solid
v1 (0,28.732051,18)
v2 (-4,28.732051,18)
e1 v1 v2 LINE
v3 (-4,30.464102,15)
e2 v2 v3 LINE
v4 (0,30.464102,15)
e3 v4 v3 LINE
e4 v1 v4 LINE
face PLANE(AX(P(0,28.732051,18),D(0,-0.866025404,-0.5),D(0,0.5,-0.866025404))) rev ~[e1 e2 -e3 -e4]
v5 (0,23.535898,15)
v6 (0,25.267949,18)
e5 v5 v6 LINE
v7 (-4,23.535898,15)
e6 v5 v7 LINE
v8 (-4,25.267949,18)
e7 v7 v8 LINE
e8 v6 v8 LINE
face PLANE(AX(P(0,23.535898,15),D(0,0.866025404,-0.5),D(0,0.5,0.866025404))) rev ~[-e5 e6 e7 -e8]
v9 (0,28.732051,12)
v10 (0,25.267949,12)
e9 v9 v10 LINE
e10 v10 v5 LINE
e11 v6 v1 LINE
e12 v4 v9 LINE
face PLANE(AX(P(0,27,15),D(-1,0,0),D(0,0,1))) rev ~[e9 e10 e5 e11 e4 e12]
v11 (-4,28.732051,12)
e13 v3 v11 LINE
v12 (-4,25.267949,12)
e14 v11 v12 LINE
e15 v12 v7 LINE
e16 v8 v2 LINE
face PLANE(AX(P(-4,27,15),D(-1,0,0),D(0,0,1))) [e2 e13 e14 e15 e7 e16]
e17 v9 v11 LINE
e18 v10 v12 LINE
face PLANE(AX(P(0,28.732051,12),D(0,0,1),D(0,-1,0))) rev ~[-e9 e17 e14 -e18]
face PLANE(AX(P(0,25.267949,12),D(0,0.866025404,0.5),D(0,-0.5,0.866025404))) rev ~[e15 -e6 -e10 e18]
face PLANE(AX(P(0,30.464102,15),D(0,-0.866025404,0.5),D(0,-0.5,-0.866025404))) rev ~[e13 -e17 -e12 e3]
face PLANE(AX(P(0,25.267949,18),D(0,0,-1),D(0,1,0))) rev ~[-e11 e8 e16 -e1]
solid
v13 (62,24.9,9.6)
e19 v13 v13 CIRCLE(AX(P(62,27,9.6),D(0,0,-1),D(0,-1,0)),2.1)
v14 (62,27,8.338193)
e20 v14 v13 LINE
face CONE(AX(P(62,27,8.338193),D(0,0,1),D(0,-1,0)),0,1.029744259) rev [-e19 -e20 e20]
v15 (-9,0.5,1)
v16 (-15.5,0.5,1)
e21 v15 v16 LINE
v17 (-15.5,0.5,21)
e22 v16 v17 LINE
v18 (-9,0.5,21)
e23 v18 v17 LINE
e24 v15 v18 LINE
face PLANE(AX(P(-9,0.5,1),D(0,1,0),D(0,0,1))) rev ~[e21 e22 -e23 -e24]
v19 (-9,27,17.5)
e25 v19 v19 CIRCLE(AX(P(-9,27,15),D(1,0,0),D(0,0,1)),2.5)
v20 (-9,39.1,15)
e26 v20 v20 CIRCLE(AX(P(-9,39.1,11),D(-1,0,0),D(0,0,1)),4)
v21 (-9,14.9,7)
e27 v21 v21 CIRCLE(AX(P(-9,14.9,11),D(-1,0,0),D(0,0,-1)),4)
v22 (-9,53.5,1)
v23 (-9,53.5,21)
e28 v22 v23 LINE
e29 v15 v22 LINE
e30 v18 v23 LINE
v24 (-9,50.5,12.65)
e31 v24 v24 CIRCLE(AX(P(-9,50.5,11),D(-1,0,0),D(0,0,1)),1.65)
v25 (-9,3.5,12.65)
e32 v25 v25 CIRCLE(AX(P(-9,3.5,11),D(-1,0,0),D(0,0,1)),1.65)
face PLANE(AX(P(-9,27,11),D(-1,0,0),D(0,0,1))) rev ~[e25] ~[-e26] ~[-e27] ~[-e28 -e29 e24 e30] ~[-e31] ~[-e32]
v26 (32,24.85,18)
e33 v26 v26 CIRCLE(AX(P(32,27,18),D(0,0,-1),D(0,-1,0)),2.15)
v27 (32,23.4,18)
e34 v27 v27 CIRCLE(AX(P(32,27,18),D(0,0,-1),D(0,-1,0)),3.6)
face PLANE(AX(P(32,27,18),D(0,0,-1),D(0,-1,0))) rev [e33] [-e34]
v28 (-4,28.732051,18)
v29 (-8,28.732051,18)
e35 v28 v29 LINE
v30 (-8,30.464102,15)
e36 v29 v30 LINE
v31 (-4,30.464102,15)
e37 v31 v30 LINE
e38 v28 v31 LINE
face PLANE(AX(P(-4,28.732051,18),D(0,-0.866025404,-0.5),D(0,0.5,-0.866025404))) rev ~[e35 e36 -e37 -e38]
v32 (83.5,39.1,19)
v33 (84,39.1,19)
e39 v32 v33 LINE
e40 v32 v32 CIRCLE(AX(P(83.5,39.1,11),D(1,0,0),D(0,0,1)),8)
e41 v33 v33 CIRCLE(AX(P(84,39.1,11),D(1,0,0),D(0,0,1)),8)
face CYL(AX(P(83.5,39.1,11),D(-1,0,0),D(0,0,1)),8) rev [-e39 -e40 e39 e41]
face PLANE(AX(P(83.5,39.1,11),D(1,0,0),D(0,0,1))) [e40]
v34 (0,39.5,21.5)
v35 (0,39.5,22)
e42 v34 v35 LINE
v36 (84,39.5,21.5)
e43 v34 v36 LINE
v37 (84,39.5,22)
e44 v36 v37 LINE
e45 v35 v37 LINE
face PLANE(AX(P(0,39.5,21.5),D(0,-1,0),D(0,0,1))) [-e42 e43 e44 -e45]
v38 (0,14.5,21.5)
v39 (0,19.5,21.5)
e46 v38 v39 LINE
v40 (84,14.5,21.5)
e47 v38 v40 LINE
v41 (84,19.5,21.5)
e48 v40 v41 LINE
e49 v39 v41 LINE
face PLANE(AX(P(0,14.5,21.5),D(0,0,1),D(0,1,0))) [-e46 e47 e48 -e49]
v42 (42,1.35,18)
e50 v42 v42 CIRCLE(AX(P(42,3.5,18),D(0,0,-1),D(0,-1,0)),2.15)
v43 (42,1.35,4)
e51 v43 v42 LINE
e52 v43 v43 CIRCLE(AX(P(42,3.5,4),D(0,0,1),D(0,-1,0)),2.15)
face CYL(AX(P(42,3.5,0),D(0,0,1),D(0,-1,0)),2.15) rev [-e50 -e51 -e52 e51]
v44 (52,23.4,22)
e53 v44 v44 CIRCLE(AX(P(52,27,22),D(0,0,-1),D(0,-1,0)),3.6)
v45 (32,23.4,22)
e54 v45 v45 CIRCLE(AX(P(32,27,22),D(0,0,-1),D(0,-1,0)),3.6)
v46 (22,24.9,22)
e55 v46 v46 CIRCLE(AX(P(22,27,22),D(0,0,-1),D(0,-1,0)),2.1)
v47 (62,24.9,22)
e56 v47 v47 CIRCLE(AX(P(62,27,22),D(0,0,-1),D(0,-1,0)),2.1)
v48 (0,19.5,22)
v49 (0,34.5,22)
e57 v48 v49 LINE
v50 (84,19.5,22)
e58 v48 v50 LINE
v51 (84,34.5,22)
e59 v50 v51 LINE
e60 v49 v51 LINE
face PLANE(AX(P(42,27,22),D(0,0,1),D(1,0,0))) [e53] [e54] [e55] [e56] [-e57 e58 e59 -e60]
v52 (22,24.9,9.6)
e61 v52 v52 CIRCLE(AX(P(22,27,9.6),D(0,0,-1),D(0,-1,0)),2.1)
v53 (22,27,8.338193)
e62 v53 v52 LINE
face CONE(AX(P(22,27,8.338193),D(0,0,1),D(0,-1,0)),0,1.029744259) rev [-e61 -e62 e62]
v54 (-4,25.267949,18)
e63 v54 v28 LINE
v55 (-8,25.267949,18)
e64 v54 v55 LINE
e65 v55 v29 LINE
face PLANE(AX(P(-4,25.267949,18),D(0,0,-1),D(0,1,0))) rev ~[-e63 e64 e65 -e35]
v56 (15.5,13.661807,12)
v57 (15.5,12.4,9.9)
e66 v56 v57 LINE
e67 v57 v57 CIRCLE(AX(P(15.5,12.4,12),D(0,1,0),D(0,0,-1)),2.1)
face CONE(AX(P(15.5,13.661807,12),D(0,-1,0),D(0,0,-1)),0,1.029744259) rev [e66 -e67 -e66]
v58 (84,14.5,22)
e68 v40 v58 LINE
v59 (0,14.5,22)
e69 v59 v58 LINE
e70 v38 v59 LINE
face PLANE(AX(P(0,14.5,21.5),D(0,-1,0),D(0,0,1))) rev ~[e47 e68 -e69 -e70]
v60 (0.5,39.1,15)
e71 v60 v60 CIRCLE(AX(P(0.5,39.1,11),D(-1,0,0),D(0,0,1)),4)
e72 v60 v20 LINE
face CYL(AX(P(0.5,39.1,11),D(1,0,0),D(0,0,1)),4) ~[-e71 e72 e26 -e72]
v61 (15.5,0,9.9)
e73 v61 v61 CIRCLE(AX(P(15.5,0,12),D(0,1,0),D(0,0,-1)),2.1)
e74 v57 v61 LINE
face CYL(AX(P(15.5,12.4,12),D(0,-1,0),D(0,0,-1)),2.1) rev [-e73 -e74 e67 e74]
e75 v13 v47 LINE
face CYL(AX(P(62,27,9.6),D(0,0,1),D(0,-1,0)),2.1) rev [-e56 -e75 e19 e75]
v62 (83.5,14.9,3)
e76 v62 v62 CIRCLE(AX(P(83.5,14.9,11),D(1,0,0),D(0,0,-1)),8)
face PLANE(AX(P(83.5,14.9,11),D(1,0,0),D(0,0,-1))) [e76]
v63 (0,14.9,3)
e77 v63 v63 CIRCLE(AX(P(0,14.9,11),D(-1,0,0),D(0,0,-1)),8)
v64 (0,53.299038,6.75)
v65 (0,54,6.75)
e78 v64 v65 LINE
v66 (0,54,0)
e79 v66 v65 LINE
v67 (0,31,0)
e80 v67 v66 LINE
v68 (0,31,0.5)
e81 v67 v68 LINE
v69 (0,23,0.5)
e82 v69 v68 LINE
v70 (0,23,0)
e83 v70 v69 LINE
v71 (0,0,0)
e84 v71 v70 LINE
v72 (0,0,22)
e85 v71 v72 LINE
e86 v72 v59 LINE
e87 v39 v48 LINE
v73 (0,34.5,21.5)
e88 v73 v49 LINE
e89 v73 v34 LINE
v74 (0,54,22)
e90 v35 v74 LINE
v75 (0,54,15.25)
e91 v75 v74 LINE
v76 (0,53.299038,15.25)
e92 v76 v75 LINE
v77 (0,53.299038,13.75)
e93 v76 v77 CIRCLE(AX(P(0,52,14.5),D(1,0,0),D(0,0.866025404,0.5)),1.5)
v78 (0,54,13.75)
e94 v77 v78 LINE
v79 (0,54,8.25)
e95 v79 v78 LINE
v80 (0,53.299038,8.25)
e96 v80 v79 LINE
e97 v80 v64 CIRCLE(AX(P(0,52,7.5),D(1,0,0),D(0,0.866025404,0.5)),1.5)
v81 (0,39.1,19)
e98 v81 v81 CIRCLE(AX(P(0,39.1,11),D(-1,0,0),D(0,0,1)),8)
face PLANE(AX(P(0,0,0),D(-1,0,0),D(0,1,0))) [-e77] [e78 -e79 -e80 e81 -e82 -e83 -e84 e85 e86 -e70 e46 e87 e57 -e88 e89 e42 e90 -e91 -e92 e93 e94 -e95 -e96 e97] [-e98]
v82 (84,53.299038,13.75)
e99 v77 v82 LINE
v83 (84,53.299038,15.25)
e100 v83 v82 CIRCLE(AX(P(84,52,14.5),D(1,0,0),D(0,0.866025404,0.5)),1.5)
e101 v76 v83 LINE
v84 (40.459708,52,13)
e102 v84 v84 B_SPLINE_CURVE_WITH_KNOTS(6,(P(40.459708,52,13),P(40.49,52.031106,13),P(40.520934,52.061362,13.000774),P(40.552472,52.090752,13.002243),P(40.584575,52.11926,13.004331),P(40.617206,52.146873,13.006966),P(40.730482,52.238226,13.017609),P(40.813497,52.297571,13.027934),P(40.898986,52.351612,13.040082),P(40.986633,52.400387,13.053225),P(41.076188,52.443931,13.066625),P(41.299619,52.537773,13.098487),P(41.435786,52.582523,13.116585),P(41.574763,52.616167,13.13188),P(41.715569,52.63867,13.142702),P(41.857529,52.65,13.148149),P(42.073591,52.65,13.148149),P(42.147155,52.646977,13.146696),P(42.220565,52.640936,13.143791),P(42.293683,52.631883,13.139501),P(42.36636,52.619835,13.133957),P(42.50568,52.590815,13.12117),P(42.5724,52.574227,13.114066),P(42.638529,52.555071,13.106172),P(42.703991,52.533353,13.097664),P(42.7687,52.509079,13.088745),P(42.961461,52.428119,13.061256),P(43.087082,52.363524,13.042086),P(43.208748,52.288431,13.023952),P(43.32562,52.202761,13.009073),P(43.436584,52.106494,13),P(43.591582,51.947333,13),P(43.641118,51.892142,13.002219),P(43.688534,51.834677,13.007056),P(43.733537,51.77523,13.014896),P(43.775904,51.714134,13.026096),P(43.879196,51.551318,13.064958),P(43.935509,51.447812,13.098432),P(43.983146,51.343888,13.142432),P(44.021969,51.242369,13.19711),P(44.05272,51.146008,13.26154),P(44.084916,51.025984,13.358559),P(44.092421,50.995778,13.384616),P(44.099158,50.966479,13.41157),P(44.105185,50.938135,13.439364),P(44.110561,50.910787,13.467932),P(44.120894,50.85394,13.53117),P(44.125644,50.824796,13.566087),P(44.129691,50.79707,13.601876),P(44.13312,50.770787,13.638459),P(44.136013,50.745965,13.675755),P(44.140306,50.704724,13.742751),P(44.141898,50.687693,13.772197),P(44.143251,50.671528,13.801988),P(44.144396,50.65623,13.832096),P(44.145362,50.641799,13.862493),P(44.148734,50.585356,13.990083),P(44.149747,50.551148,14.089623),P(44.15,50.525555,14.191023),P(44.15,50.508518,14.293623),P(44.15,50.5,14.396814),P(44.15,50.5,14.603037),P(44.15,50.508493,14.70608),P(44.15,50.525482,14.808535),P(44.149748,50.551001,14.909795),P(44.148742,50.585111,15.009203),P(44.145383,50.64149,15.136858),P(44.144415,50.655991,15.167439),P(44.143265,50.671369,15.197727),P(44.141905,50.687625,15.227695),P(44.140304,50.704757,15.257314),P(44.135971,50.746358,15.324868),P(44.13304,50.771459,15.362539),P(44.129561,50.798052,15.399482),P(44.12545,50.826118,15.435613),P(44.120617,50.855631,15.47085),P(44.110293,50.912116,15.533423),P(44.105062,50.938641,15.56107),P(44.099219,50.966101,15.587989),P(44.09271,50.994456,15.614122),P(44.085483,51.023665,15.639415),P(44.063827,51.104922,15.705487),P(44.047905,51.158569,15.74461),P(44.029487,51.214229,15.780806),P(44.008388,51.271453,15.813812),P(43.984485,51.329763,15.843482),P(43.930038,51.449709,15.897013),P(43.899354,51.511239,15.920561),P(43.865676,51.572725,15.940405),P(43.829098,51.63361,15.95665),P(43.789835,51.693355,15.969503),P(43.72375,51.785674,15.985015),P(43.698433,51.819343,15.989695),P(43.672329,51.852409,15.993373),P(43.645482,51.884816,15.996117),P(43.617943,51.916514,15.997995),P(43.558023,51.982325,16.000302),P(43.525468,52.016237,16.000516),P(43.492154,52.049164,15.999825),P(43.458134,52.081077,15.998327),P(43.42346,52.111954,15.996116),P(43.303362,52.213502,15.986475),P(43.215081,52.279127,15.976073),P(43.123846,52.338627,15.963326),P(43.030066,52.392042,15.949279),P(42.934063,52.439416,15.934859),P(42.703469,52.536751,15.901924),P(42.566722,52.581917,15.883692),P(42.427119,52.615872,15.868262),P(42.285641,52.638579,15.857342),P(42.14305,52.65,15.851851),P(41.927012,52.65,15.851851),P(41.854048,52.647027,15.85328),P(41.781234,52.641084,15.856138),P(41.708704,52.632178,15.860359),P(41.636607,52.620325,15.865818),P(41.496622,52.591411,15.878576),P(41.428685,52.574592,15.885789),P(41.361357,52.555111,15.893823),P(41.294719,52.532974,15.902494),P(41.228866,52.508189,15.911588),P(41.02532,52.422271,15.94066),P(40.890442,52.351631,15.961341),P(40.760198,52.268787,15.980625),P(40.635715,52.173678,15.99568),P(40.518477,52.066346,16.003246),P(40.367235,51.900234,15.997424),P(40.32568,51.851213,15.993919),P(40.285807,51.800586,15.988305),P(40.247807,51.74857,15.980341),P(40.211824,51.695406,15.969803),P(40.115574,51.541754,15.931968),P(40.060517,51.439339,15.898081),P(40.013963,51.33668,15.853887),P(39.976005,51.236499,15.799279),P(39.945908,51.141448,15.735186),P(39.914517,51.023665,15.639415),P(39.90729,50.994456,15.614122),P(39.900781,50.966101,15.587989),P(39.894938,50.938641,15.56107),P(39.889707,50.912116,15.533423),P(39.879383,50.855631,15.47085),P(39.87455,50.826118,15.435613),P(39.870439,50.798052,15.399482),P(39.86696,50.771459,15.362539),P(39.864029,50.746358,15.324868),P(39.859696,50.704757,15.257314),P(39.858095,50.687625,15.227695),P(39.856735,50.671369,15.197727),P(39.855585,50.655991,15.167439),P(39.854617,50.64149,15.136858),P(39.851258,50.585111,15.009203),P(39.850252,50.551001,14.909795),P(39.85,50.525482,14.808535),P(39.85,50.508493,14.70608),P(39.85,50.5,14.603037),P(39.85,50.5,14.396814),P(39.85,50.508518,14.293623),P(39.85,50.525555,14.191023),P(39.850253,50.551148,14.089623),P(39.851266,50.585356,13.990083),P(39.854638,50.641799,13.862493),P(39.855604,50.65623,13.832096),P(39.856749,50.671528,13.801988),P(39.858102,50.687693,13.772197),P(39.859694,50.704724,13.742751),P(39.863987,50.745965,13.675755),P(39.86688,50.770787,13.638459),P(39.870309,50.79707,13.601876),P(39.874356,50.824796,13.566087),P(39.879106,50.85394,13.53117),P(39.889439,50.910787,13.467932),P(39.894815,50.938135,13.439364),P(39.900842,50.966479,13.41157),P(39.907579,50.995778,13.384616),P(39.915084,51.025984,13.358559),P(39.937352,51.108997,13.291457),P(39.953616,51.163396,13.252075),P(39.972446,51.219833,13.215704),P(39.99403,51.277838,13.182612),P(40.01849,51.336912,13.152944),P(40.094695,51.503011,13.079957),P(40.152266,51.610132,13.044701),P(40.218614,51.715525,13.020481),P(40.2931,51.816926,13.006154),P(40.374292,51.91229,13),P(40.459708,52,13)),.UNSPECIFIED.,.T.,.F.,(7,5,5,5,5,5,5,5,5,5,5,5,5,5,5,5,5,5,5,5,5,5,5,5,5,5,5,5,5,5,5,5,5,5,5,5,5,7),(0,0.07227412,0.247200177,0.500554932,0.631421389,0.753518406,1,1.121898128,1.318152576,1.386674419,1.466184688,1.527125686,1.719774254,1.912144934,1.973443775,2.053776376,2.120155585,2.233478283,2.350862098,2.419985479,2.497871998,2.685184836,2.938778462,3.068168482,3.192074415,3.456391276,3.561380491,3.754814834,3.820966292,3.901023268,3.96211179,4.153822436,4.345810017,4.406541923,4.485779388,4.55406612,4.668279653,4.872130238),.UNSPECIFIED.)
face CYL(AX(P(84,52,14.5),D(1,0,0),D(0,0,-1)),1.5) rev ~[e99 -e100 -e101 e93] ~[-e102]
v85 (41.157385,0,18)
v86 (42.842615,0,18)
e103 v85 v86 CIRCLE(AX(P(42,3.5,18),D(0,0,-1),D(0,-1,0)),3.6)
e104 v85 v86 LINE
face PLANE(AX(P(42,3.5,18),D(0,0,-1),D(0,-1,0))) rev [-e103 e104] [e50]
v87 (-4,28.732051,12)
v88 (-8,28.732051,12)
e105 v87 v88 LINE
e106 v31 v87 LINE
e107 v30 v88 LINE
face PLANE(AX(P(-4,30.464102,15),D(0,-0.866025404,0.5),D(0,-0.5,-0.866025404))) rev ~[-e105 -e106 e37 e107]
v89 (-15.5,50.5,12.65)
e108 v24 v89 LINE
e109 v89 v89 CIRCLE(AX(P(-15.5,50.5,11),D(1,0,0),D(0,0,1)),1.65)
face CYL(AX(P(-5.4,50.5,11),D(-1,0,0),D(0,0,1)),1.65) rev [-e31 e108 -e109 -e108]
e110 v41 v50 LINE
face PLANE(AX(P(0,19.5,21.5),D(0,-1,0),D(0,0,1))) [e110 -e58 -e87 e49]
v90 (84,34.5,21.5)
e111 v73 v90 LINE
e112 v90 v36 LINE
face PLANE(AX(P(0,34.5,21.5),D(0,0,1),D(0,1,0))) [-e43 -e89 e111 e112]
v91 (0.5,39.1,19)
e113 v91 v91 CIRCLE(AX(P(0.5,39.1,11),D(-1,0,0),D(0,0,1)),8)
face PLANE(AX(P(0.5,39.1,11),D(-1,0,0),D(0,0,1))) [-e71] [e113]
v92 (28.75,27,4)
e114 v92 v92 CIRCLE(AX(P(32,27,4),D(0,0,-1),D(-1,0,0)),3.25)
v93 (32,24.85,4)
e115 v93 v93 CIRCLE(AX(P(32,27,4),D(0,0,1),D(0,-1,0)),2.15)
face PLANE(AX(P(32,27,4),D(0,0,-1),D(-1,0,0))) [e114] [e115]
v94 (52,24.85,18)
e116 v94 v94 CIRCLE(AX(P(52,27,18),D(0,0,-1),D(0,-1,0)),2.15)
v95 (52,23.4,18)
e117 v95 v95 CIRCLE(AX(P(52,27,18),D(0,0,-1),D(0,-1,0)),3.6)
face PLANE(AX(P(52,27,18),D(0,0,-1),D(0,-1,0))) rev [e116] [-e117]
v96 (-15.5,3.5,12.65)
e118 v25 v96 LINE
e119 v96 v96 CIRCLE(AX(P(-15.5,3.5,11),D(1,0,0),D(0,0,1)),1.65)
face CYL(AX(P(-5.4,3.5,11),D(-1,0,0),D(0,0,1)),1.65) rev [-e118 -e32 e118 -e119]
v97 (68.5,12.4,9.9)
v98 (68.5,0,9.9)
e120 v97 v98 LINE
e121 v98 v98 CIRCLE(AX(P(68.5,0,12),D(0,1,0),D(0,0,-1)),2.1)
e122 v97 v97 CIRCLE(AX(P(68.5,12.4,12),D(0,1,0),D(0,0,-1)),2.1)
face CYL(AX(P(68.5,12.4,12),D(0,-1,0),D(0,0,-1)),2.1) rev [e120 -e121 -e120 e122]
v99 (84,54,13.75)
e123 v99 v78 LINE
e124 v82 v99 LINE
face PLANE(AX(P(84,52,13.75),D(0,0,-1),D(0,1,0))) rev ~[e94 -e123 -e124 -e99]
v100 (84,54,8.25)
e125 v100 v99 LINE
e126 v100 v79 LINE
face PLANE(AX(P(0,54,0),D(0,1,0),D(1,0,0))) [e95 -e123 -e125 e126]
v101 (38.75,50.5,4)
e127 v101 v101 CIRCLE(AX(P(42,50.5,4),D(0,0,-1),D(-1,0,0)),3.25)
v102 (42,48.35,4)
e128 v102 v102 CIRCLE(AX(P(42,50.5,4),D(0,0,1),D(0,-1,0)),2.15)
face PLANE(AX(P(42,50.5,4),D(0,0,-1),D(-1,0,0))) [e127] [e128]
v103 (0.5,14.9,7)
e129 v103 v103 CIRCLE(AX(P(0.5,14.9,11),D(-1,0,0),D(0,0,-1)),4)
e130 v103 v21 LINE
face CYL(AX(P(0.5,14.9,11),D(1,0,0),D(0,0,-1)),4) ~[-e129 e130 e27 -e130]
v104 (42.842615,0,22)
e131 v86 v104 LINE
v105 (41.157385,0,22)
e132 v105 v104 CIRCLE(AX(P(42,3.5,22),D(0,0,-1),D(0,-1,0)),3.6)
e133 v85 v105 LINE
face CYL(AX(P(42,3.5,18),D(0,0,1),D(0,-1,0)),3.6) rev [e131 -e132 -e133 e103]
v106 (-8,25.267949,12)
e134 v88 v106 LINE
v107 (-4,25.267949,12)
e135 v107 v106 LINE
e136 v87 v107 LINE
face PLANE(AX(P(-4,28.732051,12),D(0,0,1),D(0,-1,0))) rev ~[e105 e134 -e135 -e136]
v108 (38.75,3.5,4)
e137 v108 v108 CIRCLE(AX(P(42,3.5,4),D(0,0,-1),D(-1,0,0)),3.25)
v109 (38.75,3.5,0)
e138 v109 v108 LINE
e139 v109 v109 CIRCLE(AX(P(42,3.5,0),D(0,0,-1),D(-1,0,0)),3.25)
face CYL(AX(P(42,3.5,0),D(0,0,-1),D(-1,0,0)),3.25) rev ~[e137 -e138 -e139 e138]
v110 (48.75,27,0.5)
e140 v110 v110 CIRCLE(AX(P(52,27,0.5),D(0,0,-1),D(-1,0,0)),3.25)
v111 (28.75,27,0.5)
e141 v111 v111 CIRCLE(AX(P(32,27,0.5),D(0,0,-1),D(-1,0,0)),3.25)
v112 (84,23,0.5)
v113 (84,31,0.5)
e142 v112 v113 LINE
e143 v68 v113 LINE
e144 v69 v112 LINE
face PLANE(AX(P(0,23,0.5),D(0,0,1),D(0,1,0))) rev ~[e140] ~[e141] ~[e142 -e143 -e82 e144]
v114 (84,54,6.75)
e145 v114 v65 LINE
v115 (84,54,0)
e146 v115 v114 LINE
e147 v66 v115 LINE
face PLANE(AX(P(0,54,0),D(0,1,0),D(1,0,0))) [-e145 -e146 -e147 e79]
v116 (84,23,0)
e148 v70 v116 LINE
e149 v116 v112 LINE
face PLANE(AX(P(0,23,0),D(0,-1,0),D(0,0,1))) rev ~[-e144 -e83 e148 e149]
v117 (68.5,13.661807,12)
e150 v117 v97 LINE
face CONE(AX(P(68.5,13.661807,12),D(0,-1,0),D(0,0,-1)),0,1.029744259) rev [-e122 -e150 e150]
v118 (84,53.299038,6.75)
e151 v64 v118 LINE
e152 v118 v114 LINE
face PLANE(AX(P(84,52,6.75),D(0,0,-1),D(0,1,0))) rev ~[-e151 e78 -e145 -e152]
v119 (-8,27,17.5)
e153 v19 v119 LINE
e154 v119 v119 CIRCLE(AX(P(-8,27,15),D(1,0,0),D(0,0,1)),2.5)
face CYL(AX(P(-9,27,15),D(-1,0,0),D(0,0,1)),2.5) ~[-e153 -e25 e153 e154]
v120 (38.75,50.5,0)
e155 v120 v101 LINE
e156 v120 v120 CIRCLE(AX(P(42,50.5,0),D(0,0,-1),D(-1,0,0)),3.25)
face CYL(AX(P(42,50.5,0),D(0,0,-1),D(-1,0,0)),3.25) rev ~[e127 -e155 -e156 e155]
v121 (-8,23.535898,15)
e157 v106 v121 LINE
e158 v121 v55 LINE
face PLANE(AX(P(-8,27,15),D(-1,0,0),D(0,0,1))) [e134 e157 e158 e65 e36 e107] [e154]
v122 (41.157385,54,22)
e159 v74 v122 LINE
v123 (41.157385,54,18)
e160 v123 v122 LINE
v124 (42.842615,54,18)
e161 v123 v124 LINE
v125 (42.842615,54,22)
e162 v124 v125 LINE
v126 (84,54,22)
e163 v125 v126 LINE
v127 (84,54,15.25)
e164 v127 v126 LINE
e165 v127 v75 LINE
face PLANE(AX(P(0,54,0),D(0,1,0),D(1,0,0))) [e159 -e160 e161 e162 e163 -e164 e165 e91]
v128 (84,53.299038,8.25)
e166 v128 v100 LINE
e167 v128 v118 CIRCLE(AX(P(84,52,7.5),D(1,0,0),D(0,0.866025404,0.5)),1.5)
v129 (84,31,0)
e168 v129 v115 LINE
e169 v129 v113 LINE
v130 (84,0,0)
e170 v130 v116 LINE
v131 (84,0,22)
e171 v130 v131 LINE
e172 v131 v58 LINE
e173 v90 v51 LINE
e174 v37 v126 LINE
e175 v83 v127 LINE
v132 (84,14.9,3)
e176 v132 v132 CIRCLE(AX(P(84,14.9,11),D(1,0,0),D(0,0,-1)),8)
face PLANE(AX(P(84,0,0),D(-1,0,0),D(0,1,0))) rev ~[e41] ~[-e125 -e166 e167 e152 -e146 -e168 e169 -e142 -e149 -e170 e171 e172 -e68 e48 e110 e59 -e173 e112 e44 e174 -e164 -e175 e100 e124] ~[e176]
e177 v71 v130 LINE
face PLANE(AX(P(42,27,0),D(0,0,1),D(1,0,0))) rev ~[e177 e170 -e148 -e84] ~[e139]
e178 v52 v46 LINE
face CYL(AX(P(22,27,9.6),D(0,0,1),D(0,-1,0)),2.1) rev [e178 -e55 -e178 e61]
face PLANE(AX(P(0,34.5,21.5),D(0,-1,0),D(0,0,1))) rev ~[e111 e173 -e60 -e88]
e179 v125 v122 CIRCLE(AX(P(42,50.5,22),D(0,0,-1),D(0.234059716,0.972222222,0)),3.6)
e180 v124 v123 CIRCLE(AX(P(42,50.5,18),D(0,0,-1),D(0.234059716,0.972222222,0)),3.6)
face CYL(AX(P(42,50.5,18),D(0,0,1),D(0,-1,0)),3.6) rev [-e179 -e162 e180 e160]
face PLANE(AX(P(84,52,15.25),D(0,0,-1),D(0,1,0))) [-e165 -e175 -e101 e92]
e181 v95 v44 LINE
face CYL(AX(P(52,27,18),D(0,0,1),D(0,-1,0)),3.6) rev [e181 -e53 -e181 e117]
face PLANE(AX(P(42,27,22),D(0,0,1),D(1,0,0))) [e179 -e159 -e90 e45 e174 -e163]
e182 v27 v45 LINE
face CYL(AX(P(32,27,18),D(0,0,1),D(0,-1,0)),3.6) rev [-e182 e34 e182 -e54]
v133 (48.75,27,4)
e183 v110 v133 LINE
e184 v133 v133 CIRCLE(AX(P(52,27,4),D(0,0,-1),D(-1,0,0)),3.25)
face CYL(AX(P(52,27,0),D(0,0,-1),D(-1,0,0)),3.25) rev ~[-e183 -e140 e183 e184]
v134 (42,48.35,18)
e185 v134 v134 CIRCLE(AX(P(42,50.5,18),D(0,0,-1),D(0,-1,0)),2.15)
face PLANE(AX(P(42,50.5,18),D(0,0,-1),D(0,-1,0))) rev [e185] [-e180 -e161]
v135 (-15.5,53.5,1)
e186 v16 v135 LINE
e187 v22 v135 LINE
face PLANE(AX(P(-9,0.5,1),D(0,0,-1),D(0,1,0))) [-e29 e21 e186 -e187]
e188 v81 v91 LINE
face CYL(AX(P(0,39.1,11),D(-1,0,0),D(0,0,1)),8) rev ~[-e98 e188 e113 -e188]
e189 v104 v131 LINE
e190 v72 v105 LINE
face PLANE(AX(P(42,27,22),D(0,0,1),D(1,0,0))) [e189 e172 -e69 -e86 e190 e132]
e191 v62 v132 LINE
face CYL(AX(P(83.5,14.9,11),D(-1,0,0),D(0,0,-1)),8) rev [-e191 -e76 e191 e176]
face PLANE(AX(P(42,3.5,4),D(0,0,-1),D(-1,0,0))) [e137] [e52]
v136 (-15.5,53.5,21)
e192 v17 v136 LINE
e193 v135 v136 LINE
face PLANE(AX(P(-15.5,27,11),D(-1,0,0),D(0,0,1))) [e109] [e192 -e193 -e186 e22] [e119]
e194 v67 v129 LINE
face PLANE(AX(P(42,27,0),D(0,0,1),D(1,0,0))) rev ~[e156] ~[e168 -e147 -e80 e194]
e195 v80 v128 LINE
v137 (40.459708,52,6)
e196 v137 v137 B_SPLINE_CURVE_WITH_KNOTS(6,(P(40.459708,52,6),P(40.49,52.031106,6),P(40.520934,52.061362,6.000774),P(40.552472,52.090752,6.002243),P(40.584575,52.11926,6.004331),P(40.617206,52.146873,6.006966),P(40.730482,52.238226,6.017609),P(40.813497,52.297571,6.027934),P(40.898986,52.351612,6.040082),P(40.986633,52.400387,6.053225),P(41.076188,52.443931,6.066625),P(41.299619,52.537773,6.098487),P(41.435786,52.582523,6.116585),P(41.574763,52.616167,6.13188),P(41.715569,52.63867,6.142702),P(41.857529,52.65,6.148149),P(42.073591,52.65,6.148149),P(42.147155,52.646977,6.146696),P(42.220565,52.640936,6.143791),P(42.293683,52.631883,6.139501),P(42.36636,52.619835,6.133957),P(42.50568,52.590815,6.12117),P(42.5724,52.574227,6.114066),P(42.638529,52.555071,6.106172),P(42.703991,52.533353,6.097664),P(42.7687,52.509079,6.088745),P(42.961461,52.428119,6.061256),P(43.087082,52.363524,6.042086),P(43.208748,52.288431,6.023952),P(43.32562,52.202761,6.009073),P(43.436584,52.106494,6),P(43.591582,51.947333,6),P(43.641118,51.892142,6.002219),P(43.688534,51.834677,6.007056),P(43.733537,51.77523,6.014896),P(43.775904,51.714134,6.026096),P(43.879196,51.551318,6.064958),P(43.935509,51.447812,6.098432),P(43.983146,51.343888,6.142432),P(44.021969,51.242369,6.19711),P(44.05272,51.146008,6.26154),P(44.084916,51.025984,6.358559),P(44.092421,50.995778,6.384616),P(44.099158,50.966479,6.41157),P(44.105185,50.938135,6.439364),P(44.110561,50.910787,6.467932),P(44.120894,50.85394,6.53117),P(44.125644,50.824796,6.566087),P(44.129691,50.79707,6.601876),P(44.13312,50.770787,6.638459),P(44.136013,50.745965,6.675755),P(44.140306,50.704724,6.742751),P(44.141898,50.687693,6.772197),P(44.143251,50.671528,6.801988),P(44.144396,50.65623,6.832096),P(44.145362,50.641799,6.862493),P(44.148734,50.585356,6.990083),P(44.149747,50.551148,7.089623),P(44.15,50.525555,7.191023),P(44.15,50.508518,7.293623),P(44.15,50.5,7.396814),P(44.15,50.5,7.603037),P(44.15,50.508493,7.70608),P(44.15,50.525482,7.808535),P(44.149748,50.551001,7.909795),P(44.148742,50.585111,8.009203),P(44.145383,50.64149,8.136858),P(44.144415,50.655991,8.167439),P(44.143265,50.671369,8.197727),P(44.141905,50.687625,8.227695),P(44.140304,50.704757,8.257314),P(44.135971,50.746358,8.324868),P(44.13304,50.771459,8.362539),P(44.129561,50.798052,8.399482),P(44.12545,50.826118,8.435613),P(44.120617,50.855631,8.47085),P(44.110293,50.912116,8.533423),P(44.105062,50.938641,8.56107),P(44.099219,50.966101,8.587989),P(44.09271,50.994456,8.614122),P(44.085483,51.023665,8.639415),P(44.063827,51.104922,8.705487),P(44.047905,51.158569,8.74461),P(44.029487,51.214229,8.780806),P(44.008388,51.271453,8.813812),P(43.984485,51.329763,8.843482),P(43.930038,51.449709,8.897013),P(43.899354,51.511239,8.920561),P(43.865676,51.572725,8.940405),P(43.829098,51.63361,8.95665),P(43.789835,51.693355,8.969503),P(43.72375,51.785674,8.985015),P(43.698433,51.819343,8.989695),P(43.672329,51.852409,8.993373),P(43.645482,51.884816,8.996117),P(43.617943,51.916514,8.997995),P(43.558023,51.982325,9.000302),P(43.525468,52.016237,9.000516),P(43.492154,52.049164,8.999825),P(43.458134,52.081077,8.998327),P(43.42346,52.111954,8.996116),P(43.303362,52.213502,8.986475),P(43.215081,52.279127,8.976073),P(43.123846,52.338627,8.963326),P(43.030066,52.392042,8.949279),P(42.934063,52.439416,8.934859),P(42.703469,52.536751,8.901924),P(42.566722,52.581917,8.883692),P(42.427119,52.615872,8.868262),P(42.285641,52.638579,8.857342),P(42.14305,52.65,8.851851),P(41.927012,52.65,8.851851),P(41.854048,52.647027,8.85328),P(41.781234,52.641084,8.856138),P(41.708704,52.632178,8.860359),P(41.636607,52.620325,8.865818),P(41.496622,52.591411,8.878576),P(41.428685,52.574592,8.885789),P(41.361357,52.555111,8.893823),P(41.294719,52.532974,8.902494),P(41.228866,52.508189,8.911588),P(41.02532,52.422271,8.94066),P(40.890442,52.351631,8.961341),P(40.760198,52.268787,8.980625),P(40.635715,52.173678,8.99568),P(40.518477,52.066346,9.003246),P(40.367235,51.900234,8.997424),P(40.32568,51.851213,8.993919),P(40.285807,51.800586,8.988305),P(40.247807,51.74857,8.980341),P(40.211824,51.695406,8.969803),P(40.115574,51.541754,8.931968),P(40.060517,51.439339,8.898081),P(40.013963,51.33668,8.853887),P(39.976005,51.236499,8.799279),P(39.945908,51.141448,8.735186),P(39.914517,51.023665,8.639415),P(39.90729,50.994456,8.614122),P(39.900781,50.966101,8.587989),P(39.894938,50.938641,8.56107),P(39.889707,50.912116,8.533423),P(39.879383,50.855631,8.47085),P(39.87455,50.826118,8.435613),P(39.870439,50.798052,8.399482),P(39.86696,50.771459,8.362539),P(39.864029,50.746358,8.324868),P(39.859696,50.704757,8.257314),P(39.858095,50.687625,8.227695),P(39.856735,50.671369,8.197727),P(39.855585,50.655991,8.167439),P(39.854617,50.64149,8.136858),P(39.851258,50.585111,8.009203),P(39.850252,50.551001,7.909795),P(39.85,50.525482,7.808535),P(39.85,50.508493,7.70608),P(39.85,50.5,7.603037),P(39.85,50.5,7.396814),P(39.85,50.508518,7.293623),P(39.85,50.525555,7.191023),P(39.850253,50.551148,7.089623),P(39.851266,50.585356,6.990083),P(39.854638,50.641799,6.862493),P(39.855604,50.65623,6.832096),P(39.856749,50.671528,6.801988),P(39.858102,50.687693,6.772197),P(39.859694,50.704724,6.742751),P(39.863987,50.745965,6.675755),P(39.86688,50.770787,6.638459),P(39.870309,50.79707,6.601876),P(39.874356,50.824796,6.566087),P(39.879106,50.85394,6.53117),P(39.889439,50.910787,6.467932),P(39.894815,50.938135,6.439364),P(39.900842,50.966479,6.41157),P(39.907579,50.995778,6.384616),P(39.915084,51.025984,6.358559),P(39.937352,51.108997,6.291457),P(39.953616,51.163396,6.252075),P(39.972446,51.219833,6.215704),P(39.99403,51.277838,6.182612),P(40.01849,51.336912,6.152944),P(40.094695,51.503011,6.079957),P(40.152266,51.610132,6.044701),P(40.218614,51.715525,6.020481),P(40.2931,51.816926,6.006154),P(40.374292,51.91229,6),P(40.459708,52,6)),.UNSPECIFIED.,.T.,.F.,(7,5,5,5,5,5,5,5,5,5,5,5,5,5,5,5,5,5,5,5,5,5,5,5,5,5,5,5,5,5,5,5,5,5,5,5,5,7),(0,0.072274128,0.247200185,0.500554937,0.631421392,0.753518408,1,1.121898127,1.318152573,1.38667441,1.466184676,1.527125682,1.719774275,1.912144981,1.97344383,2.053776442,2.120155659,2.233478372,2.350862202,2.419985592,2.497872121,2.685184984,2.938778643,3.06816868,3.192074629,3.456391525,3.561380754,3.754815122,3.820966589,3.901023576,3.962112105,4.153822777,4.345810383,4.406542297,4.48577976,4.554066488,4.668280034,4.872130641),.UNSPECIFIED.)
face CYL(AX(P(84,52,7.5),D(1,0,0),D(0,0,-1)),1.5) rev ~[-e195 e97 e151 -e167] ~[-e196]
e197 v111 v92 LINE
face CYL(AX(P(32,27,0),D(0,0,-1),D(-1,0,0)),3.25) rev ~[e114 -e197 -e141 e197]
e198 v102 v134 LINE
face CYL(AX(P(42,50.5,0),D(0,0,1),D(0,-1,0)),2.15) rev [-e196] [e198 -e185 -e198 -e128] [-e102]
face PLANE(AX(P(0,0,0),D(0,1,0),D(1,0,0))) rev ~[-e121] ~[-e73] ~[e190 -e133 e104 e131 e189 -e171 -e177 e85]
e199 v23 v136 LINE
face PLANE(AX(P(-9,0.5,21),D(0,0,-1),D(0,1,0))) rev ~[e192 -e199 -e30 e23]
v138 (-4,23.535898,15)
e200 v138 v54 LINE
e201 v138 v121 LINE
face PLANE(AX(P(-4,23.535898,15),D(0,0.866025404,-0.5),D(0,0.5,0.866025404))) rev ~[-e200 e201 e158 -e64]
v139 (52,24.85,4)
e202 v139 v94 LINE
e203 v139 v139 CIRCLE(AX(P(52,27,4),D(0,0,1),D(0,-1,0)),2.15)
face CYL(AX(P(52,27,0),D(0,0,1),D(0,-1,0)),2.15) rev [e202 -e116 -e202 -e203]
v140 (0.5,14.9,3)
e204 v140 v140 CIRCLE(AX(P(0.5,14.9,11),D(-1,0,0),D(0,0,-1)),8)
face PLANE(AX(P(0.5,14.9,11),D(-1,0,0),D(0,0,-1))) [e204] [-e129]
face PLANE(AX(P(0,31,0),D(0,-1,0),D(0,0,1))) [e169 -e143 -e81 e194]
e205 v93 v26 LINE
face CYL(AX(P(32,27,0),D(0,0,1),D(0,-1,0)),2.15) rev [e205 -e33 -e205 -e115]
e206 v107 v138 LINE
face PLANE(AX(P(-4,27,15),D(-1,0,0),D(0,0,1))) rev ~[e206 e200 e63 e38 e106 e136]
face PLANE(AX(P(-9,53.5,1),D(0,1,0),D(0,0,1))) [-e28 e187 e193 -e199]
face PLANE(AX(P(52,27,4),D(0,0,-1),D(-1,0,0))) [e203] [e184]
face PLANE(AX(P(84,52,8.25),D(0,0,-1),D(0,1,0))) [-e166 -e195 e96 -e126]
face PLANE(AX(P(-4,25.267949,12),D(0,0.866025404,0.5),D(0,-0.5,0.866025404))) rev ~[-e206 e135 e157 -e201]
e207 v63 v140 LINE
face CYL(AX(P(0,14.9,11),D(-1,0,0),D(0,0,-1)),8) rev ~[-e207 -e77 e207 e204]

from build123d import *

# Parameters (mm, degrees)
SKETCH_1_W                  = 84
SKETCH_1_H                  = 54
EXTRUDE_1_DEPTH             = 22
EXTRUDE_2_DEPTH             = 4
EXTRUDE_3_DEPTH             = 4
SKETCH_5_R                  = 8
CUT_EXTRUDE_1_DEPTH         = 0.5
CUT_EXTRUDE_START           = -0.5
SKETCH_6_R                  = 8
CUT_EXTRUDE_2_DEPTH         = 0.5
SKETCH_7_R                  = 4
EXTRUDE_4_DEPTH             = 9.5
SKETCH_8_W                  = 20
SKETCH_8_H                  = 53
EXTRUDE_5_DEPTH             = 6.5
SKETCH_9_R                  = 2.5
EXTRUDE_6_DEPTH             = 1
HOLE_WIZARD_M4_2_AT_2_COUNT = 2
HOLE_WIZARD_M4_2_AT_2_PITCH = 47
SKETCH_13_R                 = 1.5
CUT_EXTRUDE_3_DEPTH         = 84
SKETCH_14_W                 = 1.5
SKETCH_14_H                 = 2
CUT_EXTRUDE_4_DEPTH         = 84
HOLE_WIZARD_M5_1_AT_2_COUNT = 2
HOLE_WIZARD_M5_1_AT_2_PITCH = 53
SKETCH_17_W                 = 0.5
SKETCH_17_H                 = 8
SKETCH_17_H_2               = 5
CUT_EXTRUDE_5_DEPTH         = 84
HOLE_WIZARD_M5_2_AT_2_COUNT = 2
HOLE_WIZARD_M5_2_AT_2_PITCH = 40
HOLE_WIZARD_M4_1_AT_2_COUNT = 2
HOLE_WIZARD_M4_1_AT_2_PITCH = 25.539185578
HOLE_WIZARD_M4_1_AT_3_COUNT = 2
HOLE_WIZARD_M4_1_AT_3_PITCH = 25.539185578
HOLE_WIZARD_M4_1_AT_4_COUNT = 2
HOLE_WIZARD_M4_1_AT_4_PITCH = 20
SKETCH_22_R                 = 3.25
CUT_EXTRUDE_10_DEPTH        = 4


with BuildPart() as part:
    # 草图1 → 凸台-拉伸1 (new body)
    with BuildSketch(Plane.XY):
        with Locations((42, 27)):
            Rectangle(SKETCH_1_W, SKETCH_1_H)
    extrude(amount=EXTRUDE_1_DEPTH)

    # 草图5 → 切除-拉伸1 (cut)
    with BuildSketch(Plane.ZY):
        with Locations((11, 39.1)):
            Circle(SKETCH_5_R)
        with Locations(Location((11, 14.9, 0), (0, 0, 180))):
            Circle(SKETCH_5_R)
    extrude(amount=-CUT_EXTRUDE_1_DEPTH, mode=Mode.SUBTRACT)

    # 草图6 → 切除-拉伸2 (cut)
    with BuildSketch(Plane(origin=(84, 0, 0), x_dir=(0, 0, -1), z_dir=(1, 0, 0)).offset(CUT_EXTRUDE_START)):
        with Locations(Location((-11, 39.1, 0), (0, 0, 180))):
            Circle(SKETCH_6_R)
        with Locations((-11, 14.9)):
            Circle(SKETCH_6_R)
    extrude(amount=CUT_EXTRUDE_2_DEPTH, mode=Mode.SUBTRACT)

    # 草图7 → 凸台-拉伸4 (add)
    with BuildSketch(Plane.ZY.offset(-0.5)):
        with Locations((11, 39.1)):
            Circle(SKETCH_7_R)
        with Locations(Location((11, 14.9, 0), (0, 0, 180))):
            Circle(SKETCH_7_R)
    extrude(amount=EXTRUDE_4_DEPTH)

    # 草图8 → 凸台-拉伸5 (add)
    with BuildSketch(Plane.ZY.offset(9)):
        with Locations((11, 27)):
            Rectangle(SKETCH_8_W, SKETCH_8_H)
    extrude(amount=EXTRUDE_5_DEPTH)



with BuildPart() as body_2:
    # 草图2 → 凸台-拉伸2 (new body)
    with BuildSketch(Plane.ZY):
        Polygon((18, 25.267949192), (18, 28.732050808), (15, 30.464101615), (12, 28.732050808), (12, 25.267949192), (15, 23.535898385), align=None)
    extrude(amount=EXTRUDE_2_DEPTH)


with BuildPart() as body_3:
    # 草图4 → 凸台-拉伸3 (new body)
    with BuildSketch(Plane.ZY.offset(4)):
        Polygon((18, 25.267949192), (18, 28.732050808), (15, 30.464101615), (12, 28.732050808), (12, 25.267949192), (15, 23.535898385), align=None)
    extrude(amount=EXTRUDE_3_DEPTH)


with BuildPart() as part_1:
    add(part.part)

    add(body_3.part)  # 凸台-拉伸6 merges body 3
    # 草图9 → 凸台-拉伸6 (add)
    with BuildSketch(Plane(origin=(-9, 0, 0), x_dir=(0, 0, -1), z_dir=(1, 0, 0))):
        with Locations(Location((-15, 27, 0), (0, 0, 180))):
            Circle(SKETCH_9_R)
    extrude(amount=EXTRUDE_6_DEPTH)

    # 草图11 → M4 螺纹孔2 (revolve, cut)
    with BuildSketch(Plane(origin=(-15.5, 50.5, 11), x_dir=(0, 0, 1), z_dir=(0, 1, 0))):
        Polygon((0, 0), (0, 11.091420021), (1.65, 10.1), (1.65, 0), align=None)
    hole_wizard_m4_2 = revolve(axis=Axis((-21.85, 50.5, 11), (1, 0, 0)), mode=Mode.SUBTRACT)

    # M4 螺纹孔2 at 2: M4 螺纹孔2 ×2
    with Locations(*[(0, -i * HOLE_WIZARD_M4_2_AT_2_PITCH, 0) for i in range(1, HOLE_WIZARD_M4_2_AT_2_COUNT)]):
        add(hole_wizard_m4_2, mode=Mode.SUBTRACT)

    # 草图13 → 切除-拉伸3 (cut)
    with BuildSketch(Plane(origin=(84, 0, 0), x_dir=(0, 0, -1), z_dir=(1, 0, 0))):
        with Locations((-14.5, 52)):
            Circle(SKETCH_13_R)
        with Locations((-7.5, 52)):
            Circle(SKETCH_13_R)
    extrude(amount=-CUT_EXTRUDE_3_DEPTH, mode=Mode.SUBTRACT)

    # 草图14 → 切除-拉伸4 (cut)
    with BuildSketch(Plane(origin=(84, 0, 0), x_dir=(0, 0, -1), z_dir=(1, 0, 0))):
        with Locations((-14.5, 53)):
            Rectangle(SKETCH_14_W, SKETCH_14_H)
        with Locations((-7.5, 53)):
            Rectangle(SKETCH_14_W, SKETCH_14_H)
    extrude(amount=-CUT_EXTRUDE_4_DEPTH, mode=Mode.SUBTRACT)

    # 草图15 → M5 螺纹孔1 (revolve, cut)
    with BuildSketch(Plane(origin=(15.5, 0, 12), x_dir=(0, 0, -1), z_dir=(1, 0, 0))):
        Polygon((0, 0), (0, 13.6618073), (2.1, 12.4), (2.1, 0), align=None)
    hole_wizard_m5_1 = revolve(axis=Axis((15.5, -6.35, 12), (0, 1, 0)), mode=Mode.SUBTRACT)

    # M5 螺纹孔1 at 2: M5 螺纹孔1 ×2
    with Locations(*[(i * HOLE_WIZARD_M5_1_AT_2_PITCH, 0, 0) for i in range(1, HOLE_WIZARD_M5_1_AT_2_COUNT)]):
        add(hole_wizard_m5_1, mode=Mode.SUBTRACT)

    # 草图17 → 切除-拉伸5 (cut)
    with BuildSketch(Plane.ZY):
        with Locations((0.25, 27)):
            Rectangle(SKETCH_17_W, SKETCH_17_H)
        with Locations((21.75, 37)):
            Rectangle(SKETCH_17_W, SKETCH_17_H_2)
        with Locations((21.75, 17)):
            Rectangle(SKETCH_17_W, SKETCH_17_H_2)
    extrude(amount=-CUT_EXTRUDE_5_DEPTH, mode=Mode.SUBTRACT)

    # 草图18 → M5 螺纹孔2 (revolve, cut)
    with BuildSketch(Plane(origin=(22, 27, 22), x_dir=(0, -1, 0), z_dir=(1, 0, 0))):
        Polygon((0, 0), (0, 13.6618073), (2.1, 12.4), (2.1, 0), align=None)
    hole_wizard_m5_2 = revolve(axis=Axis((22, 27, 28.35), (0, 0, -1)), mode=Mode.SUBTRACT)

    # M5 螺纹孔2 at 2: M5 螺纹孔2 ×2
    with Locations(*[(i * HOLE_WIZARD_M5_2_AT_2_PITCH, 0, 0) for i in range(1, HOLE_WIZARD_M5_2_AT_2_COUNT)]):
        add(hole_wizard_m5_2, mode=Mode.SUBTRACT)

    # 草图20 → M4 六角凹头螺钉的柱形沉头孔1 (revolve, cut)
    with BuildSketch(Plane(origin=(32, 27, 22), x_dir=(0, -1, 0), z_dir=(1, 0, 0))):
        Polygon((0, 0), (0, 22), (2.15, 22), (2.15, 4), (3.6, 4), (3.6, 0), align=None)
    hole_wizard_m4_1 = revolve(axis=Axis((32, 27, 28.35), (0, 0, -1)), mode=Mode.SUBTRACT)

    # M4 六角凹头螺钉的柱形沉头孔1 at 2: M4 六角凹头螺钉的柱形沉头孔1 ×2
    with Locations(*[Vector(0.3915551640972675, 0.9201546356285785, 0) * (i * HOLE_WIZARD_M4_1_AT_2_PITCH) for i in range(1, HOLE_WIZARD_M4_1_AT_2_COUNT)]):
        add(hole_wizard_m4_1, mode=Mode.SUBTRACT)

    # M4 六角凹头螺钉的柱形沉头孔1 at 3: M4 六角凹头螺钉的柱形沉头孔1 ×2
    with Locations(*[Vector(0.3915551640972674, -0.9201546356285785, 0) * (i * HOLE_WIZARD_M4_1_AT_3_PITCH) for i in range(1, HOLE_WIZARD_M4_1_AT_3_COUNT)]):
        add(hole_wizard_m4_1, mode=Mode.SUBTRACT)

    # M4 六角凹头螺钉的柱形沉头孔1 at 4: M4 六角凹头螺钉的柱形沉头孔1 ×2
    with Locations(*[(i * HOLE_WIZARD_M4_1_AT_4_PITCH, 0, 0) for i in range(1, HOLE_WIZARD_M4_1_AT_4_COUNT)]):
        add(hole_wizard_m4_1, mode=Mode.SUBTRACT)

    # 草图22 → 切除-拉伸10 (cut)
    with BuildSketch(Plane(origin=(0, 0, 0), x_dir=(-1, 0, 0), z_dir=(0, 0, -1))):
        with Locations((-42, 50.5)):
            Circle(SKETCH_22_R)
        with Locations((-32, 27)):
            Circle(SKETCH_22_R)
        with Locations((-52, 27)):
            Circle(SKETCH_22_R)
        with Locations((-42, 3.5)):
            Circle(SKETCH_22_R)
    extrude(amount=-CUT_EXTRUDE_10_DEPTH, mode=Mode.SUBTRACT)


solid = Compound([body_2.part, part_1.part])
